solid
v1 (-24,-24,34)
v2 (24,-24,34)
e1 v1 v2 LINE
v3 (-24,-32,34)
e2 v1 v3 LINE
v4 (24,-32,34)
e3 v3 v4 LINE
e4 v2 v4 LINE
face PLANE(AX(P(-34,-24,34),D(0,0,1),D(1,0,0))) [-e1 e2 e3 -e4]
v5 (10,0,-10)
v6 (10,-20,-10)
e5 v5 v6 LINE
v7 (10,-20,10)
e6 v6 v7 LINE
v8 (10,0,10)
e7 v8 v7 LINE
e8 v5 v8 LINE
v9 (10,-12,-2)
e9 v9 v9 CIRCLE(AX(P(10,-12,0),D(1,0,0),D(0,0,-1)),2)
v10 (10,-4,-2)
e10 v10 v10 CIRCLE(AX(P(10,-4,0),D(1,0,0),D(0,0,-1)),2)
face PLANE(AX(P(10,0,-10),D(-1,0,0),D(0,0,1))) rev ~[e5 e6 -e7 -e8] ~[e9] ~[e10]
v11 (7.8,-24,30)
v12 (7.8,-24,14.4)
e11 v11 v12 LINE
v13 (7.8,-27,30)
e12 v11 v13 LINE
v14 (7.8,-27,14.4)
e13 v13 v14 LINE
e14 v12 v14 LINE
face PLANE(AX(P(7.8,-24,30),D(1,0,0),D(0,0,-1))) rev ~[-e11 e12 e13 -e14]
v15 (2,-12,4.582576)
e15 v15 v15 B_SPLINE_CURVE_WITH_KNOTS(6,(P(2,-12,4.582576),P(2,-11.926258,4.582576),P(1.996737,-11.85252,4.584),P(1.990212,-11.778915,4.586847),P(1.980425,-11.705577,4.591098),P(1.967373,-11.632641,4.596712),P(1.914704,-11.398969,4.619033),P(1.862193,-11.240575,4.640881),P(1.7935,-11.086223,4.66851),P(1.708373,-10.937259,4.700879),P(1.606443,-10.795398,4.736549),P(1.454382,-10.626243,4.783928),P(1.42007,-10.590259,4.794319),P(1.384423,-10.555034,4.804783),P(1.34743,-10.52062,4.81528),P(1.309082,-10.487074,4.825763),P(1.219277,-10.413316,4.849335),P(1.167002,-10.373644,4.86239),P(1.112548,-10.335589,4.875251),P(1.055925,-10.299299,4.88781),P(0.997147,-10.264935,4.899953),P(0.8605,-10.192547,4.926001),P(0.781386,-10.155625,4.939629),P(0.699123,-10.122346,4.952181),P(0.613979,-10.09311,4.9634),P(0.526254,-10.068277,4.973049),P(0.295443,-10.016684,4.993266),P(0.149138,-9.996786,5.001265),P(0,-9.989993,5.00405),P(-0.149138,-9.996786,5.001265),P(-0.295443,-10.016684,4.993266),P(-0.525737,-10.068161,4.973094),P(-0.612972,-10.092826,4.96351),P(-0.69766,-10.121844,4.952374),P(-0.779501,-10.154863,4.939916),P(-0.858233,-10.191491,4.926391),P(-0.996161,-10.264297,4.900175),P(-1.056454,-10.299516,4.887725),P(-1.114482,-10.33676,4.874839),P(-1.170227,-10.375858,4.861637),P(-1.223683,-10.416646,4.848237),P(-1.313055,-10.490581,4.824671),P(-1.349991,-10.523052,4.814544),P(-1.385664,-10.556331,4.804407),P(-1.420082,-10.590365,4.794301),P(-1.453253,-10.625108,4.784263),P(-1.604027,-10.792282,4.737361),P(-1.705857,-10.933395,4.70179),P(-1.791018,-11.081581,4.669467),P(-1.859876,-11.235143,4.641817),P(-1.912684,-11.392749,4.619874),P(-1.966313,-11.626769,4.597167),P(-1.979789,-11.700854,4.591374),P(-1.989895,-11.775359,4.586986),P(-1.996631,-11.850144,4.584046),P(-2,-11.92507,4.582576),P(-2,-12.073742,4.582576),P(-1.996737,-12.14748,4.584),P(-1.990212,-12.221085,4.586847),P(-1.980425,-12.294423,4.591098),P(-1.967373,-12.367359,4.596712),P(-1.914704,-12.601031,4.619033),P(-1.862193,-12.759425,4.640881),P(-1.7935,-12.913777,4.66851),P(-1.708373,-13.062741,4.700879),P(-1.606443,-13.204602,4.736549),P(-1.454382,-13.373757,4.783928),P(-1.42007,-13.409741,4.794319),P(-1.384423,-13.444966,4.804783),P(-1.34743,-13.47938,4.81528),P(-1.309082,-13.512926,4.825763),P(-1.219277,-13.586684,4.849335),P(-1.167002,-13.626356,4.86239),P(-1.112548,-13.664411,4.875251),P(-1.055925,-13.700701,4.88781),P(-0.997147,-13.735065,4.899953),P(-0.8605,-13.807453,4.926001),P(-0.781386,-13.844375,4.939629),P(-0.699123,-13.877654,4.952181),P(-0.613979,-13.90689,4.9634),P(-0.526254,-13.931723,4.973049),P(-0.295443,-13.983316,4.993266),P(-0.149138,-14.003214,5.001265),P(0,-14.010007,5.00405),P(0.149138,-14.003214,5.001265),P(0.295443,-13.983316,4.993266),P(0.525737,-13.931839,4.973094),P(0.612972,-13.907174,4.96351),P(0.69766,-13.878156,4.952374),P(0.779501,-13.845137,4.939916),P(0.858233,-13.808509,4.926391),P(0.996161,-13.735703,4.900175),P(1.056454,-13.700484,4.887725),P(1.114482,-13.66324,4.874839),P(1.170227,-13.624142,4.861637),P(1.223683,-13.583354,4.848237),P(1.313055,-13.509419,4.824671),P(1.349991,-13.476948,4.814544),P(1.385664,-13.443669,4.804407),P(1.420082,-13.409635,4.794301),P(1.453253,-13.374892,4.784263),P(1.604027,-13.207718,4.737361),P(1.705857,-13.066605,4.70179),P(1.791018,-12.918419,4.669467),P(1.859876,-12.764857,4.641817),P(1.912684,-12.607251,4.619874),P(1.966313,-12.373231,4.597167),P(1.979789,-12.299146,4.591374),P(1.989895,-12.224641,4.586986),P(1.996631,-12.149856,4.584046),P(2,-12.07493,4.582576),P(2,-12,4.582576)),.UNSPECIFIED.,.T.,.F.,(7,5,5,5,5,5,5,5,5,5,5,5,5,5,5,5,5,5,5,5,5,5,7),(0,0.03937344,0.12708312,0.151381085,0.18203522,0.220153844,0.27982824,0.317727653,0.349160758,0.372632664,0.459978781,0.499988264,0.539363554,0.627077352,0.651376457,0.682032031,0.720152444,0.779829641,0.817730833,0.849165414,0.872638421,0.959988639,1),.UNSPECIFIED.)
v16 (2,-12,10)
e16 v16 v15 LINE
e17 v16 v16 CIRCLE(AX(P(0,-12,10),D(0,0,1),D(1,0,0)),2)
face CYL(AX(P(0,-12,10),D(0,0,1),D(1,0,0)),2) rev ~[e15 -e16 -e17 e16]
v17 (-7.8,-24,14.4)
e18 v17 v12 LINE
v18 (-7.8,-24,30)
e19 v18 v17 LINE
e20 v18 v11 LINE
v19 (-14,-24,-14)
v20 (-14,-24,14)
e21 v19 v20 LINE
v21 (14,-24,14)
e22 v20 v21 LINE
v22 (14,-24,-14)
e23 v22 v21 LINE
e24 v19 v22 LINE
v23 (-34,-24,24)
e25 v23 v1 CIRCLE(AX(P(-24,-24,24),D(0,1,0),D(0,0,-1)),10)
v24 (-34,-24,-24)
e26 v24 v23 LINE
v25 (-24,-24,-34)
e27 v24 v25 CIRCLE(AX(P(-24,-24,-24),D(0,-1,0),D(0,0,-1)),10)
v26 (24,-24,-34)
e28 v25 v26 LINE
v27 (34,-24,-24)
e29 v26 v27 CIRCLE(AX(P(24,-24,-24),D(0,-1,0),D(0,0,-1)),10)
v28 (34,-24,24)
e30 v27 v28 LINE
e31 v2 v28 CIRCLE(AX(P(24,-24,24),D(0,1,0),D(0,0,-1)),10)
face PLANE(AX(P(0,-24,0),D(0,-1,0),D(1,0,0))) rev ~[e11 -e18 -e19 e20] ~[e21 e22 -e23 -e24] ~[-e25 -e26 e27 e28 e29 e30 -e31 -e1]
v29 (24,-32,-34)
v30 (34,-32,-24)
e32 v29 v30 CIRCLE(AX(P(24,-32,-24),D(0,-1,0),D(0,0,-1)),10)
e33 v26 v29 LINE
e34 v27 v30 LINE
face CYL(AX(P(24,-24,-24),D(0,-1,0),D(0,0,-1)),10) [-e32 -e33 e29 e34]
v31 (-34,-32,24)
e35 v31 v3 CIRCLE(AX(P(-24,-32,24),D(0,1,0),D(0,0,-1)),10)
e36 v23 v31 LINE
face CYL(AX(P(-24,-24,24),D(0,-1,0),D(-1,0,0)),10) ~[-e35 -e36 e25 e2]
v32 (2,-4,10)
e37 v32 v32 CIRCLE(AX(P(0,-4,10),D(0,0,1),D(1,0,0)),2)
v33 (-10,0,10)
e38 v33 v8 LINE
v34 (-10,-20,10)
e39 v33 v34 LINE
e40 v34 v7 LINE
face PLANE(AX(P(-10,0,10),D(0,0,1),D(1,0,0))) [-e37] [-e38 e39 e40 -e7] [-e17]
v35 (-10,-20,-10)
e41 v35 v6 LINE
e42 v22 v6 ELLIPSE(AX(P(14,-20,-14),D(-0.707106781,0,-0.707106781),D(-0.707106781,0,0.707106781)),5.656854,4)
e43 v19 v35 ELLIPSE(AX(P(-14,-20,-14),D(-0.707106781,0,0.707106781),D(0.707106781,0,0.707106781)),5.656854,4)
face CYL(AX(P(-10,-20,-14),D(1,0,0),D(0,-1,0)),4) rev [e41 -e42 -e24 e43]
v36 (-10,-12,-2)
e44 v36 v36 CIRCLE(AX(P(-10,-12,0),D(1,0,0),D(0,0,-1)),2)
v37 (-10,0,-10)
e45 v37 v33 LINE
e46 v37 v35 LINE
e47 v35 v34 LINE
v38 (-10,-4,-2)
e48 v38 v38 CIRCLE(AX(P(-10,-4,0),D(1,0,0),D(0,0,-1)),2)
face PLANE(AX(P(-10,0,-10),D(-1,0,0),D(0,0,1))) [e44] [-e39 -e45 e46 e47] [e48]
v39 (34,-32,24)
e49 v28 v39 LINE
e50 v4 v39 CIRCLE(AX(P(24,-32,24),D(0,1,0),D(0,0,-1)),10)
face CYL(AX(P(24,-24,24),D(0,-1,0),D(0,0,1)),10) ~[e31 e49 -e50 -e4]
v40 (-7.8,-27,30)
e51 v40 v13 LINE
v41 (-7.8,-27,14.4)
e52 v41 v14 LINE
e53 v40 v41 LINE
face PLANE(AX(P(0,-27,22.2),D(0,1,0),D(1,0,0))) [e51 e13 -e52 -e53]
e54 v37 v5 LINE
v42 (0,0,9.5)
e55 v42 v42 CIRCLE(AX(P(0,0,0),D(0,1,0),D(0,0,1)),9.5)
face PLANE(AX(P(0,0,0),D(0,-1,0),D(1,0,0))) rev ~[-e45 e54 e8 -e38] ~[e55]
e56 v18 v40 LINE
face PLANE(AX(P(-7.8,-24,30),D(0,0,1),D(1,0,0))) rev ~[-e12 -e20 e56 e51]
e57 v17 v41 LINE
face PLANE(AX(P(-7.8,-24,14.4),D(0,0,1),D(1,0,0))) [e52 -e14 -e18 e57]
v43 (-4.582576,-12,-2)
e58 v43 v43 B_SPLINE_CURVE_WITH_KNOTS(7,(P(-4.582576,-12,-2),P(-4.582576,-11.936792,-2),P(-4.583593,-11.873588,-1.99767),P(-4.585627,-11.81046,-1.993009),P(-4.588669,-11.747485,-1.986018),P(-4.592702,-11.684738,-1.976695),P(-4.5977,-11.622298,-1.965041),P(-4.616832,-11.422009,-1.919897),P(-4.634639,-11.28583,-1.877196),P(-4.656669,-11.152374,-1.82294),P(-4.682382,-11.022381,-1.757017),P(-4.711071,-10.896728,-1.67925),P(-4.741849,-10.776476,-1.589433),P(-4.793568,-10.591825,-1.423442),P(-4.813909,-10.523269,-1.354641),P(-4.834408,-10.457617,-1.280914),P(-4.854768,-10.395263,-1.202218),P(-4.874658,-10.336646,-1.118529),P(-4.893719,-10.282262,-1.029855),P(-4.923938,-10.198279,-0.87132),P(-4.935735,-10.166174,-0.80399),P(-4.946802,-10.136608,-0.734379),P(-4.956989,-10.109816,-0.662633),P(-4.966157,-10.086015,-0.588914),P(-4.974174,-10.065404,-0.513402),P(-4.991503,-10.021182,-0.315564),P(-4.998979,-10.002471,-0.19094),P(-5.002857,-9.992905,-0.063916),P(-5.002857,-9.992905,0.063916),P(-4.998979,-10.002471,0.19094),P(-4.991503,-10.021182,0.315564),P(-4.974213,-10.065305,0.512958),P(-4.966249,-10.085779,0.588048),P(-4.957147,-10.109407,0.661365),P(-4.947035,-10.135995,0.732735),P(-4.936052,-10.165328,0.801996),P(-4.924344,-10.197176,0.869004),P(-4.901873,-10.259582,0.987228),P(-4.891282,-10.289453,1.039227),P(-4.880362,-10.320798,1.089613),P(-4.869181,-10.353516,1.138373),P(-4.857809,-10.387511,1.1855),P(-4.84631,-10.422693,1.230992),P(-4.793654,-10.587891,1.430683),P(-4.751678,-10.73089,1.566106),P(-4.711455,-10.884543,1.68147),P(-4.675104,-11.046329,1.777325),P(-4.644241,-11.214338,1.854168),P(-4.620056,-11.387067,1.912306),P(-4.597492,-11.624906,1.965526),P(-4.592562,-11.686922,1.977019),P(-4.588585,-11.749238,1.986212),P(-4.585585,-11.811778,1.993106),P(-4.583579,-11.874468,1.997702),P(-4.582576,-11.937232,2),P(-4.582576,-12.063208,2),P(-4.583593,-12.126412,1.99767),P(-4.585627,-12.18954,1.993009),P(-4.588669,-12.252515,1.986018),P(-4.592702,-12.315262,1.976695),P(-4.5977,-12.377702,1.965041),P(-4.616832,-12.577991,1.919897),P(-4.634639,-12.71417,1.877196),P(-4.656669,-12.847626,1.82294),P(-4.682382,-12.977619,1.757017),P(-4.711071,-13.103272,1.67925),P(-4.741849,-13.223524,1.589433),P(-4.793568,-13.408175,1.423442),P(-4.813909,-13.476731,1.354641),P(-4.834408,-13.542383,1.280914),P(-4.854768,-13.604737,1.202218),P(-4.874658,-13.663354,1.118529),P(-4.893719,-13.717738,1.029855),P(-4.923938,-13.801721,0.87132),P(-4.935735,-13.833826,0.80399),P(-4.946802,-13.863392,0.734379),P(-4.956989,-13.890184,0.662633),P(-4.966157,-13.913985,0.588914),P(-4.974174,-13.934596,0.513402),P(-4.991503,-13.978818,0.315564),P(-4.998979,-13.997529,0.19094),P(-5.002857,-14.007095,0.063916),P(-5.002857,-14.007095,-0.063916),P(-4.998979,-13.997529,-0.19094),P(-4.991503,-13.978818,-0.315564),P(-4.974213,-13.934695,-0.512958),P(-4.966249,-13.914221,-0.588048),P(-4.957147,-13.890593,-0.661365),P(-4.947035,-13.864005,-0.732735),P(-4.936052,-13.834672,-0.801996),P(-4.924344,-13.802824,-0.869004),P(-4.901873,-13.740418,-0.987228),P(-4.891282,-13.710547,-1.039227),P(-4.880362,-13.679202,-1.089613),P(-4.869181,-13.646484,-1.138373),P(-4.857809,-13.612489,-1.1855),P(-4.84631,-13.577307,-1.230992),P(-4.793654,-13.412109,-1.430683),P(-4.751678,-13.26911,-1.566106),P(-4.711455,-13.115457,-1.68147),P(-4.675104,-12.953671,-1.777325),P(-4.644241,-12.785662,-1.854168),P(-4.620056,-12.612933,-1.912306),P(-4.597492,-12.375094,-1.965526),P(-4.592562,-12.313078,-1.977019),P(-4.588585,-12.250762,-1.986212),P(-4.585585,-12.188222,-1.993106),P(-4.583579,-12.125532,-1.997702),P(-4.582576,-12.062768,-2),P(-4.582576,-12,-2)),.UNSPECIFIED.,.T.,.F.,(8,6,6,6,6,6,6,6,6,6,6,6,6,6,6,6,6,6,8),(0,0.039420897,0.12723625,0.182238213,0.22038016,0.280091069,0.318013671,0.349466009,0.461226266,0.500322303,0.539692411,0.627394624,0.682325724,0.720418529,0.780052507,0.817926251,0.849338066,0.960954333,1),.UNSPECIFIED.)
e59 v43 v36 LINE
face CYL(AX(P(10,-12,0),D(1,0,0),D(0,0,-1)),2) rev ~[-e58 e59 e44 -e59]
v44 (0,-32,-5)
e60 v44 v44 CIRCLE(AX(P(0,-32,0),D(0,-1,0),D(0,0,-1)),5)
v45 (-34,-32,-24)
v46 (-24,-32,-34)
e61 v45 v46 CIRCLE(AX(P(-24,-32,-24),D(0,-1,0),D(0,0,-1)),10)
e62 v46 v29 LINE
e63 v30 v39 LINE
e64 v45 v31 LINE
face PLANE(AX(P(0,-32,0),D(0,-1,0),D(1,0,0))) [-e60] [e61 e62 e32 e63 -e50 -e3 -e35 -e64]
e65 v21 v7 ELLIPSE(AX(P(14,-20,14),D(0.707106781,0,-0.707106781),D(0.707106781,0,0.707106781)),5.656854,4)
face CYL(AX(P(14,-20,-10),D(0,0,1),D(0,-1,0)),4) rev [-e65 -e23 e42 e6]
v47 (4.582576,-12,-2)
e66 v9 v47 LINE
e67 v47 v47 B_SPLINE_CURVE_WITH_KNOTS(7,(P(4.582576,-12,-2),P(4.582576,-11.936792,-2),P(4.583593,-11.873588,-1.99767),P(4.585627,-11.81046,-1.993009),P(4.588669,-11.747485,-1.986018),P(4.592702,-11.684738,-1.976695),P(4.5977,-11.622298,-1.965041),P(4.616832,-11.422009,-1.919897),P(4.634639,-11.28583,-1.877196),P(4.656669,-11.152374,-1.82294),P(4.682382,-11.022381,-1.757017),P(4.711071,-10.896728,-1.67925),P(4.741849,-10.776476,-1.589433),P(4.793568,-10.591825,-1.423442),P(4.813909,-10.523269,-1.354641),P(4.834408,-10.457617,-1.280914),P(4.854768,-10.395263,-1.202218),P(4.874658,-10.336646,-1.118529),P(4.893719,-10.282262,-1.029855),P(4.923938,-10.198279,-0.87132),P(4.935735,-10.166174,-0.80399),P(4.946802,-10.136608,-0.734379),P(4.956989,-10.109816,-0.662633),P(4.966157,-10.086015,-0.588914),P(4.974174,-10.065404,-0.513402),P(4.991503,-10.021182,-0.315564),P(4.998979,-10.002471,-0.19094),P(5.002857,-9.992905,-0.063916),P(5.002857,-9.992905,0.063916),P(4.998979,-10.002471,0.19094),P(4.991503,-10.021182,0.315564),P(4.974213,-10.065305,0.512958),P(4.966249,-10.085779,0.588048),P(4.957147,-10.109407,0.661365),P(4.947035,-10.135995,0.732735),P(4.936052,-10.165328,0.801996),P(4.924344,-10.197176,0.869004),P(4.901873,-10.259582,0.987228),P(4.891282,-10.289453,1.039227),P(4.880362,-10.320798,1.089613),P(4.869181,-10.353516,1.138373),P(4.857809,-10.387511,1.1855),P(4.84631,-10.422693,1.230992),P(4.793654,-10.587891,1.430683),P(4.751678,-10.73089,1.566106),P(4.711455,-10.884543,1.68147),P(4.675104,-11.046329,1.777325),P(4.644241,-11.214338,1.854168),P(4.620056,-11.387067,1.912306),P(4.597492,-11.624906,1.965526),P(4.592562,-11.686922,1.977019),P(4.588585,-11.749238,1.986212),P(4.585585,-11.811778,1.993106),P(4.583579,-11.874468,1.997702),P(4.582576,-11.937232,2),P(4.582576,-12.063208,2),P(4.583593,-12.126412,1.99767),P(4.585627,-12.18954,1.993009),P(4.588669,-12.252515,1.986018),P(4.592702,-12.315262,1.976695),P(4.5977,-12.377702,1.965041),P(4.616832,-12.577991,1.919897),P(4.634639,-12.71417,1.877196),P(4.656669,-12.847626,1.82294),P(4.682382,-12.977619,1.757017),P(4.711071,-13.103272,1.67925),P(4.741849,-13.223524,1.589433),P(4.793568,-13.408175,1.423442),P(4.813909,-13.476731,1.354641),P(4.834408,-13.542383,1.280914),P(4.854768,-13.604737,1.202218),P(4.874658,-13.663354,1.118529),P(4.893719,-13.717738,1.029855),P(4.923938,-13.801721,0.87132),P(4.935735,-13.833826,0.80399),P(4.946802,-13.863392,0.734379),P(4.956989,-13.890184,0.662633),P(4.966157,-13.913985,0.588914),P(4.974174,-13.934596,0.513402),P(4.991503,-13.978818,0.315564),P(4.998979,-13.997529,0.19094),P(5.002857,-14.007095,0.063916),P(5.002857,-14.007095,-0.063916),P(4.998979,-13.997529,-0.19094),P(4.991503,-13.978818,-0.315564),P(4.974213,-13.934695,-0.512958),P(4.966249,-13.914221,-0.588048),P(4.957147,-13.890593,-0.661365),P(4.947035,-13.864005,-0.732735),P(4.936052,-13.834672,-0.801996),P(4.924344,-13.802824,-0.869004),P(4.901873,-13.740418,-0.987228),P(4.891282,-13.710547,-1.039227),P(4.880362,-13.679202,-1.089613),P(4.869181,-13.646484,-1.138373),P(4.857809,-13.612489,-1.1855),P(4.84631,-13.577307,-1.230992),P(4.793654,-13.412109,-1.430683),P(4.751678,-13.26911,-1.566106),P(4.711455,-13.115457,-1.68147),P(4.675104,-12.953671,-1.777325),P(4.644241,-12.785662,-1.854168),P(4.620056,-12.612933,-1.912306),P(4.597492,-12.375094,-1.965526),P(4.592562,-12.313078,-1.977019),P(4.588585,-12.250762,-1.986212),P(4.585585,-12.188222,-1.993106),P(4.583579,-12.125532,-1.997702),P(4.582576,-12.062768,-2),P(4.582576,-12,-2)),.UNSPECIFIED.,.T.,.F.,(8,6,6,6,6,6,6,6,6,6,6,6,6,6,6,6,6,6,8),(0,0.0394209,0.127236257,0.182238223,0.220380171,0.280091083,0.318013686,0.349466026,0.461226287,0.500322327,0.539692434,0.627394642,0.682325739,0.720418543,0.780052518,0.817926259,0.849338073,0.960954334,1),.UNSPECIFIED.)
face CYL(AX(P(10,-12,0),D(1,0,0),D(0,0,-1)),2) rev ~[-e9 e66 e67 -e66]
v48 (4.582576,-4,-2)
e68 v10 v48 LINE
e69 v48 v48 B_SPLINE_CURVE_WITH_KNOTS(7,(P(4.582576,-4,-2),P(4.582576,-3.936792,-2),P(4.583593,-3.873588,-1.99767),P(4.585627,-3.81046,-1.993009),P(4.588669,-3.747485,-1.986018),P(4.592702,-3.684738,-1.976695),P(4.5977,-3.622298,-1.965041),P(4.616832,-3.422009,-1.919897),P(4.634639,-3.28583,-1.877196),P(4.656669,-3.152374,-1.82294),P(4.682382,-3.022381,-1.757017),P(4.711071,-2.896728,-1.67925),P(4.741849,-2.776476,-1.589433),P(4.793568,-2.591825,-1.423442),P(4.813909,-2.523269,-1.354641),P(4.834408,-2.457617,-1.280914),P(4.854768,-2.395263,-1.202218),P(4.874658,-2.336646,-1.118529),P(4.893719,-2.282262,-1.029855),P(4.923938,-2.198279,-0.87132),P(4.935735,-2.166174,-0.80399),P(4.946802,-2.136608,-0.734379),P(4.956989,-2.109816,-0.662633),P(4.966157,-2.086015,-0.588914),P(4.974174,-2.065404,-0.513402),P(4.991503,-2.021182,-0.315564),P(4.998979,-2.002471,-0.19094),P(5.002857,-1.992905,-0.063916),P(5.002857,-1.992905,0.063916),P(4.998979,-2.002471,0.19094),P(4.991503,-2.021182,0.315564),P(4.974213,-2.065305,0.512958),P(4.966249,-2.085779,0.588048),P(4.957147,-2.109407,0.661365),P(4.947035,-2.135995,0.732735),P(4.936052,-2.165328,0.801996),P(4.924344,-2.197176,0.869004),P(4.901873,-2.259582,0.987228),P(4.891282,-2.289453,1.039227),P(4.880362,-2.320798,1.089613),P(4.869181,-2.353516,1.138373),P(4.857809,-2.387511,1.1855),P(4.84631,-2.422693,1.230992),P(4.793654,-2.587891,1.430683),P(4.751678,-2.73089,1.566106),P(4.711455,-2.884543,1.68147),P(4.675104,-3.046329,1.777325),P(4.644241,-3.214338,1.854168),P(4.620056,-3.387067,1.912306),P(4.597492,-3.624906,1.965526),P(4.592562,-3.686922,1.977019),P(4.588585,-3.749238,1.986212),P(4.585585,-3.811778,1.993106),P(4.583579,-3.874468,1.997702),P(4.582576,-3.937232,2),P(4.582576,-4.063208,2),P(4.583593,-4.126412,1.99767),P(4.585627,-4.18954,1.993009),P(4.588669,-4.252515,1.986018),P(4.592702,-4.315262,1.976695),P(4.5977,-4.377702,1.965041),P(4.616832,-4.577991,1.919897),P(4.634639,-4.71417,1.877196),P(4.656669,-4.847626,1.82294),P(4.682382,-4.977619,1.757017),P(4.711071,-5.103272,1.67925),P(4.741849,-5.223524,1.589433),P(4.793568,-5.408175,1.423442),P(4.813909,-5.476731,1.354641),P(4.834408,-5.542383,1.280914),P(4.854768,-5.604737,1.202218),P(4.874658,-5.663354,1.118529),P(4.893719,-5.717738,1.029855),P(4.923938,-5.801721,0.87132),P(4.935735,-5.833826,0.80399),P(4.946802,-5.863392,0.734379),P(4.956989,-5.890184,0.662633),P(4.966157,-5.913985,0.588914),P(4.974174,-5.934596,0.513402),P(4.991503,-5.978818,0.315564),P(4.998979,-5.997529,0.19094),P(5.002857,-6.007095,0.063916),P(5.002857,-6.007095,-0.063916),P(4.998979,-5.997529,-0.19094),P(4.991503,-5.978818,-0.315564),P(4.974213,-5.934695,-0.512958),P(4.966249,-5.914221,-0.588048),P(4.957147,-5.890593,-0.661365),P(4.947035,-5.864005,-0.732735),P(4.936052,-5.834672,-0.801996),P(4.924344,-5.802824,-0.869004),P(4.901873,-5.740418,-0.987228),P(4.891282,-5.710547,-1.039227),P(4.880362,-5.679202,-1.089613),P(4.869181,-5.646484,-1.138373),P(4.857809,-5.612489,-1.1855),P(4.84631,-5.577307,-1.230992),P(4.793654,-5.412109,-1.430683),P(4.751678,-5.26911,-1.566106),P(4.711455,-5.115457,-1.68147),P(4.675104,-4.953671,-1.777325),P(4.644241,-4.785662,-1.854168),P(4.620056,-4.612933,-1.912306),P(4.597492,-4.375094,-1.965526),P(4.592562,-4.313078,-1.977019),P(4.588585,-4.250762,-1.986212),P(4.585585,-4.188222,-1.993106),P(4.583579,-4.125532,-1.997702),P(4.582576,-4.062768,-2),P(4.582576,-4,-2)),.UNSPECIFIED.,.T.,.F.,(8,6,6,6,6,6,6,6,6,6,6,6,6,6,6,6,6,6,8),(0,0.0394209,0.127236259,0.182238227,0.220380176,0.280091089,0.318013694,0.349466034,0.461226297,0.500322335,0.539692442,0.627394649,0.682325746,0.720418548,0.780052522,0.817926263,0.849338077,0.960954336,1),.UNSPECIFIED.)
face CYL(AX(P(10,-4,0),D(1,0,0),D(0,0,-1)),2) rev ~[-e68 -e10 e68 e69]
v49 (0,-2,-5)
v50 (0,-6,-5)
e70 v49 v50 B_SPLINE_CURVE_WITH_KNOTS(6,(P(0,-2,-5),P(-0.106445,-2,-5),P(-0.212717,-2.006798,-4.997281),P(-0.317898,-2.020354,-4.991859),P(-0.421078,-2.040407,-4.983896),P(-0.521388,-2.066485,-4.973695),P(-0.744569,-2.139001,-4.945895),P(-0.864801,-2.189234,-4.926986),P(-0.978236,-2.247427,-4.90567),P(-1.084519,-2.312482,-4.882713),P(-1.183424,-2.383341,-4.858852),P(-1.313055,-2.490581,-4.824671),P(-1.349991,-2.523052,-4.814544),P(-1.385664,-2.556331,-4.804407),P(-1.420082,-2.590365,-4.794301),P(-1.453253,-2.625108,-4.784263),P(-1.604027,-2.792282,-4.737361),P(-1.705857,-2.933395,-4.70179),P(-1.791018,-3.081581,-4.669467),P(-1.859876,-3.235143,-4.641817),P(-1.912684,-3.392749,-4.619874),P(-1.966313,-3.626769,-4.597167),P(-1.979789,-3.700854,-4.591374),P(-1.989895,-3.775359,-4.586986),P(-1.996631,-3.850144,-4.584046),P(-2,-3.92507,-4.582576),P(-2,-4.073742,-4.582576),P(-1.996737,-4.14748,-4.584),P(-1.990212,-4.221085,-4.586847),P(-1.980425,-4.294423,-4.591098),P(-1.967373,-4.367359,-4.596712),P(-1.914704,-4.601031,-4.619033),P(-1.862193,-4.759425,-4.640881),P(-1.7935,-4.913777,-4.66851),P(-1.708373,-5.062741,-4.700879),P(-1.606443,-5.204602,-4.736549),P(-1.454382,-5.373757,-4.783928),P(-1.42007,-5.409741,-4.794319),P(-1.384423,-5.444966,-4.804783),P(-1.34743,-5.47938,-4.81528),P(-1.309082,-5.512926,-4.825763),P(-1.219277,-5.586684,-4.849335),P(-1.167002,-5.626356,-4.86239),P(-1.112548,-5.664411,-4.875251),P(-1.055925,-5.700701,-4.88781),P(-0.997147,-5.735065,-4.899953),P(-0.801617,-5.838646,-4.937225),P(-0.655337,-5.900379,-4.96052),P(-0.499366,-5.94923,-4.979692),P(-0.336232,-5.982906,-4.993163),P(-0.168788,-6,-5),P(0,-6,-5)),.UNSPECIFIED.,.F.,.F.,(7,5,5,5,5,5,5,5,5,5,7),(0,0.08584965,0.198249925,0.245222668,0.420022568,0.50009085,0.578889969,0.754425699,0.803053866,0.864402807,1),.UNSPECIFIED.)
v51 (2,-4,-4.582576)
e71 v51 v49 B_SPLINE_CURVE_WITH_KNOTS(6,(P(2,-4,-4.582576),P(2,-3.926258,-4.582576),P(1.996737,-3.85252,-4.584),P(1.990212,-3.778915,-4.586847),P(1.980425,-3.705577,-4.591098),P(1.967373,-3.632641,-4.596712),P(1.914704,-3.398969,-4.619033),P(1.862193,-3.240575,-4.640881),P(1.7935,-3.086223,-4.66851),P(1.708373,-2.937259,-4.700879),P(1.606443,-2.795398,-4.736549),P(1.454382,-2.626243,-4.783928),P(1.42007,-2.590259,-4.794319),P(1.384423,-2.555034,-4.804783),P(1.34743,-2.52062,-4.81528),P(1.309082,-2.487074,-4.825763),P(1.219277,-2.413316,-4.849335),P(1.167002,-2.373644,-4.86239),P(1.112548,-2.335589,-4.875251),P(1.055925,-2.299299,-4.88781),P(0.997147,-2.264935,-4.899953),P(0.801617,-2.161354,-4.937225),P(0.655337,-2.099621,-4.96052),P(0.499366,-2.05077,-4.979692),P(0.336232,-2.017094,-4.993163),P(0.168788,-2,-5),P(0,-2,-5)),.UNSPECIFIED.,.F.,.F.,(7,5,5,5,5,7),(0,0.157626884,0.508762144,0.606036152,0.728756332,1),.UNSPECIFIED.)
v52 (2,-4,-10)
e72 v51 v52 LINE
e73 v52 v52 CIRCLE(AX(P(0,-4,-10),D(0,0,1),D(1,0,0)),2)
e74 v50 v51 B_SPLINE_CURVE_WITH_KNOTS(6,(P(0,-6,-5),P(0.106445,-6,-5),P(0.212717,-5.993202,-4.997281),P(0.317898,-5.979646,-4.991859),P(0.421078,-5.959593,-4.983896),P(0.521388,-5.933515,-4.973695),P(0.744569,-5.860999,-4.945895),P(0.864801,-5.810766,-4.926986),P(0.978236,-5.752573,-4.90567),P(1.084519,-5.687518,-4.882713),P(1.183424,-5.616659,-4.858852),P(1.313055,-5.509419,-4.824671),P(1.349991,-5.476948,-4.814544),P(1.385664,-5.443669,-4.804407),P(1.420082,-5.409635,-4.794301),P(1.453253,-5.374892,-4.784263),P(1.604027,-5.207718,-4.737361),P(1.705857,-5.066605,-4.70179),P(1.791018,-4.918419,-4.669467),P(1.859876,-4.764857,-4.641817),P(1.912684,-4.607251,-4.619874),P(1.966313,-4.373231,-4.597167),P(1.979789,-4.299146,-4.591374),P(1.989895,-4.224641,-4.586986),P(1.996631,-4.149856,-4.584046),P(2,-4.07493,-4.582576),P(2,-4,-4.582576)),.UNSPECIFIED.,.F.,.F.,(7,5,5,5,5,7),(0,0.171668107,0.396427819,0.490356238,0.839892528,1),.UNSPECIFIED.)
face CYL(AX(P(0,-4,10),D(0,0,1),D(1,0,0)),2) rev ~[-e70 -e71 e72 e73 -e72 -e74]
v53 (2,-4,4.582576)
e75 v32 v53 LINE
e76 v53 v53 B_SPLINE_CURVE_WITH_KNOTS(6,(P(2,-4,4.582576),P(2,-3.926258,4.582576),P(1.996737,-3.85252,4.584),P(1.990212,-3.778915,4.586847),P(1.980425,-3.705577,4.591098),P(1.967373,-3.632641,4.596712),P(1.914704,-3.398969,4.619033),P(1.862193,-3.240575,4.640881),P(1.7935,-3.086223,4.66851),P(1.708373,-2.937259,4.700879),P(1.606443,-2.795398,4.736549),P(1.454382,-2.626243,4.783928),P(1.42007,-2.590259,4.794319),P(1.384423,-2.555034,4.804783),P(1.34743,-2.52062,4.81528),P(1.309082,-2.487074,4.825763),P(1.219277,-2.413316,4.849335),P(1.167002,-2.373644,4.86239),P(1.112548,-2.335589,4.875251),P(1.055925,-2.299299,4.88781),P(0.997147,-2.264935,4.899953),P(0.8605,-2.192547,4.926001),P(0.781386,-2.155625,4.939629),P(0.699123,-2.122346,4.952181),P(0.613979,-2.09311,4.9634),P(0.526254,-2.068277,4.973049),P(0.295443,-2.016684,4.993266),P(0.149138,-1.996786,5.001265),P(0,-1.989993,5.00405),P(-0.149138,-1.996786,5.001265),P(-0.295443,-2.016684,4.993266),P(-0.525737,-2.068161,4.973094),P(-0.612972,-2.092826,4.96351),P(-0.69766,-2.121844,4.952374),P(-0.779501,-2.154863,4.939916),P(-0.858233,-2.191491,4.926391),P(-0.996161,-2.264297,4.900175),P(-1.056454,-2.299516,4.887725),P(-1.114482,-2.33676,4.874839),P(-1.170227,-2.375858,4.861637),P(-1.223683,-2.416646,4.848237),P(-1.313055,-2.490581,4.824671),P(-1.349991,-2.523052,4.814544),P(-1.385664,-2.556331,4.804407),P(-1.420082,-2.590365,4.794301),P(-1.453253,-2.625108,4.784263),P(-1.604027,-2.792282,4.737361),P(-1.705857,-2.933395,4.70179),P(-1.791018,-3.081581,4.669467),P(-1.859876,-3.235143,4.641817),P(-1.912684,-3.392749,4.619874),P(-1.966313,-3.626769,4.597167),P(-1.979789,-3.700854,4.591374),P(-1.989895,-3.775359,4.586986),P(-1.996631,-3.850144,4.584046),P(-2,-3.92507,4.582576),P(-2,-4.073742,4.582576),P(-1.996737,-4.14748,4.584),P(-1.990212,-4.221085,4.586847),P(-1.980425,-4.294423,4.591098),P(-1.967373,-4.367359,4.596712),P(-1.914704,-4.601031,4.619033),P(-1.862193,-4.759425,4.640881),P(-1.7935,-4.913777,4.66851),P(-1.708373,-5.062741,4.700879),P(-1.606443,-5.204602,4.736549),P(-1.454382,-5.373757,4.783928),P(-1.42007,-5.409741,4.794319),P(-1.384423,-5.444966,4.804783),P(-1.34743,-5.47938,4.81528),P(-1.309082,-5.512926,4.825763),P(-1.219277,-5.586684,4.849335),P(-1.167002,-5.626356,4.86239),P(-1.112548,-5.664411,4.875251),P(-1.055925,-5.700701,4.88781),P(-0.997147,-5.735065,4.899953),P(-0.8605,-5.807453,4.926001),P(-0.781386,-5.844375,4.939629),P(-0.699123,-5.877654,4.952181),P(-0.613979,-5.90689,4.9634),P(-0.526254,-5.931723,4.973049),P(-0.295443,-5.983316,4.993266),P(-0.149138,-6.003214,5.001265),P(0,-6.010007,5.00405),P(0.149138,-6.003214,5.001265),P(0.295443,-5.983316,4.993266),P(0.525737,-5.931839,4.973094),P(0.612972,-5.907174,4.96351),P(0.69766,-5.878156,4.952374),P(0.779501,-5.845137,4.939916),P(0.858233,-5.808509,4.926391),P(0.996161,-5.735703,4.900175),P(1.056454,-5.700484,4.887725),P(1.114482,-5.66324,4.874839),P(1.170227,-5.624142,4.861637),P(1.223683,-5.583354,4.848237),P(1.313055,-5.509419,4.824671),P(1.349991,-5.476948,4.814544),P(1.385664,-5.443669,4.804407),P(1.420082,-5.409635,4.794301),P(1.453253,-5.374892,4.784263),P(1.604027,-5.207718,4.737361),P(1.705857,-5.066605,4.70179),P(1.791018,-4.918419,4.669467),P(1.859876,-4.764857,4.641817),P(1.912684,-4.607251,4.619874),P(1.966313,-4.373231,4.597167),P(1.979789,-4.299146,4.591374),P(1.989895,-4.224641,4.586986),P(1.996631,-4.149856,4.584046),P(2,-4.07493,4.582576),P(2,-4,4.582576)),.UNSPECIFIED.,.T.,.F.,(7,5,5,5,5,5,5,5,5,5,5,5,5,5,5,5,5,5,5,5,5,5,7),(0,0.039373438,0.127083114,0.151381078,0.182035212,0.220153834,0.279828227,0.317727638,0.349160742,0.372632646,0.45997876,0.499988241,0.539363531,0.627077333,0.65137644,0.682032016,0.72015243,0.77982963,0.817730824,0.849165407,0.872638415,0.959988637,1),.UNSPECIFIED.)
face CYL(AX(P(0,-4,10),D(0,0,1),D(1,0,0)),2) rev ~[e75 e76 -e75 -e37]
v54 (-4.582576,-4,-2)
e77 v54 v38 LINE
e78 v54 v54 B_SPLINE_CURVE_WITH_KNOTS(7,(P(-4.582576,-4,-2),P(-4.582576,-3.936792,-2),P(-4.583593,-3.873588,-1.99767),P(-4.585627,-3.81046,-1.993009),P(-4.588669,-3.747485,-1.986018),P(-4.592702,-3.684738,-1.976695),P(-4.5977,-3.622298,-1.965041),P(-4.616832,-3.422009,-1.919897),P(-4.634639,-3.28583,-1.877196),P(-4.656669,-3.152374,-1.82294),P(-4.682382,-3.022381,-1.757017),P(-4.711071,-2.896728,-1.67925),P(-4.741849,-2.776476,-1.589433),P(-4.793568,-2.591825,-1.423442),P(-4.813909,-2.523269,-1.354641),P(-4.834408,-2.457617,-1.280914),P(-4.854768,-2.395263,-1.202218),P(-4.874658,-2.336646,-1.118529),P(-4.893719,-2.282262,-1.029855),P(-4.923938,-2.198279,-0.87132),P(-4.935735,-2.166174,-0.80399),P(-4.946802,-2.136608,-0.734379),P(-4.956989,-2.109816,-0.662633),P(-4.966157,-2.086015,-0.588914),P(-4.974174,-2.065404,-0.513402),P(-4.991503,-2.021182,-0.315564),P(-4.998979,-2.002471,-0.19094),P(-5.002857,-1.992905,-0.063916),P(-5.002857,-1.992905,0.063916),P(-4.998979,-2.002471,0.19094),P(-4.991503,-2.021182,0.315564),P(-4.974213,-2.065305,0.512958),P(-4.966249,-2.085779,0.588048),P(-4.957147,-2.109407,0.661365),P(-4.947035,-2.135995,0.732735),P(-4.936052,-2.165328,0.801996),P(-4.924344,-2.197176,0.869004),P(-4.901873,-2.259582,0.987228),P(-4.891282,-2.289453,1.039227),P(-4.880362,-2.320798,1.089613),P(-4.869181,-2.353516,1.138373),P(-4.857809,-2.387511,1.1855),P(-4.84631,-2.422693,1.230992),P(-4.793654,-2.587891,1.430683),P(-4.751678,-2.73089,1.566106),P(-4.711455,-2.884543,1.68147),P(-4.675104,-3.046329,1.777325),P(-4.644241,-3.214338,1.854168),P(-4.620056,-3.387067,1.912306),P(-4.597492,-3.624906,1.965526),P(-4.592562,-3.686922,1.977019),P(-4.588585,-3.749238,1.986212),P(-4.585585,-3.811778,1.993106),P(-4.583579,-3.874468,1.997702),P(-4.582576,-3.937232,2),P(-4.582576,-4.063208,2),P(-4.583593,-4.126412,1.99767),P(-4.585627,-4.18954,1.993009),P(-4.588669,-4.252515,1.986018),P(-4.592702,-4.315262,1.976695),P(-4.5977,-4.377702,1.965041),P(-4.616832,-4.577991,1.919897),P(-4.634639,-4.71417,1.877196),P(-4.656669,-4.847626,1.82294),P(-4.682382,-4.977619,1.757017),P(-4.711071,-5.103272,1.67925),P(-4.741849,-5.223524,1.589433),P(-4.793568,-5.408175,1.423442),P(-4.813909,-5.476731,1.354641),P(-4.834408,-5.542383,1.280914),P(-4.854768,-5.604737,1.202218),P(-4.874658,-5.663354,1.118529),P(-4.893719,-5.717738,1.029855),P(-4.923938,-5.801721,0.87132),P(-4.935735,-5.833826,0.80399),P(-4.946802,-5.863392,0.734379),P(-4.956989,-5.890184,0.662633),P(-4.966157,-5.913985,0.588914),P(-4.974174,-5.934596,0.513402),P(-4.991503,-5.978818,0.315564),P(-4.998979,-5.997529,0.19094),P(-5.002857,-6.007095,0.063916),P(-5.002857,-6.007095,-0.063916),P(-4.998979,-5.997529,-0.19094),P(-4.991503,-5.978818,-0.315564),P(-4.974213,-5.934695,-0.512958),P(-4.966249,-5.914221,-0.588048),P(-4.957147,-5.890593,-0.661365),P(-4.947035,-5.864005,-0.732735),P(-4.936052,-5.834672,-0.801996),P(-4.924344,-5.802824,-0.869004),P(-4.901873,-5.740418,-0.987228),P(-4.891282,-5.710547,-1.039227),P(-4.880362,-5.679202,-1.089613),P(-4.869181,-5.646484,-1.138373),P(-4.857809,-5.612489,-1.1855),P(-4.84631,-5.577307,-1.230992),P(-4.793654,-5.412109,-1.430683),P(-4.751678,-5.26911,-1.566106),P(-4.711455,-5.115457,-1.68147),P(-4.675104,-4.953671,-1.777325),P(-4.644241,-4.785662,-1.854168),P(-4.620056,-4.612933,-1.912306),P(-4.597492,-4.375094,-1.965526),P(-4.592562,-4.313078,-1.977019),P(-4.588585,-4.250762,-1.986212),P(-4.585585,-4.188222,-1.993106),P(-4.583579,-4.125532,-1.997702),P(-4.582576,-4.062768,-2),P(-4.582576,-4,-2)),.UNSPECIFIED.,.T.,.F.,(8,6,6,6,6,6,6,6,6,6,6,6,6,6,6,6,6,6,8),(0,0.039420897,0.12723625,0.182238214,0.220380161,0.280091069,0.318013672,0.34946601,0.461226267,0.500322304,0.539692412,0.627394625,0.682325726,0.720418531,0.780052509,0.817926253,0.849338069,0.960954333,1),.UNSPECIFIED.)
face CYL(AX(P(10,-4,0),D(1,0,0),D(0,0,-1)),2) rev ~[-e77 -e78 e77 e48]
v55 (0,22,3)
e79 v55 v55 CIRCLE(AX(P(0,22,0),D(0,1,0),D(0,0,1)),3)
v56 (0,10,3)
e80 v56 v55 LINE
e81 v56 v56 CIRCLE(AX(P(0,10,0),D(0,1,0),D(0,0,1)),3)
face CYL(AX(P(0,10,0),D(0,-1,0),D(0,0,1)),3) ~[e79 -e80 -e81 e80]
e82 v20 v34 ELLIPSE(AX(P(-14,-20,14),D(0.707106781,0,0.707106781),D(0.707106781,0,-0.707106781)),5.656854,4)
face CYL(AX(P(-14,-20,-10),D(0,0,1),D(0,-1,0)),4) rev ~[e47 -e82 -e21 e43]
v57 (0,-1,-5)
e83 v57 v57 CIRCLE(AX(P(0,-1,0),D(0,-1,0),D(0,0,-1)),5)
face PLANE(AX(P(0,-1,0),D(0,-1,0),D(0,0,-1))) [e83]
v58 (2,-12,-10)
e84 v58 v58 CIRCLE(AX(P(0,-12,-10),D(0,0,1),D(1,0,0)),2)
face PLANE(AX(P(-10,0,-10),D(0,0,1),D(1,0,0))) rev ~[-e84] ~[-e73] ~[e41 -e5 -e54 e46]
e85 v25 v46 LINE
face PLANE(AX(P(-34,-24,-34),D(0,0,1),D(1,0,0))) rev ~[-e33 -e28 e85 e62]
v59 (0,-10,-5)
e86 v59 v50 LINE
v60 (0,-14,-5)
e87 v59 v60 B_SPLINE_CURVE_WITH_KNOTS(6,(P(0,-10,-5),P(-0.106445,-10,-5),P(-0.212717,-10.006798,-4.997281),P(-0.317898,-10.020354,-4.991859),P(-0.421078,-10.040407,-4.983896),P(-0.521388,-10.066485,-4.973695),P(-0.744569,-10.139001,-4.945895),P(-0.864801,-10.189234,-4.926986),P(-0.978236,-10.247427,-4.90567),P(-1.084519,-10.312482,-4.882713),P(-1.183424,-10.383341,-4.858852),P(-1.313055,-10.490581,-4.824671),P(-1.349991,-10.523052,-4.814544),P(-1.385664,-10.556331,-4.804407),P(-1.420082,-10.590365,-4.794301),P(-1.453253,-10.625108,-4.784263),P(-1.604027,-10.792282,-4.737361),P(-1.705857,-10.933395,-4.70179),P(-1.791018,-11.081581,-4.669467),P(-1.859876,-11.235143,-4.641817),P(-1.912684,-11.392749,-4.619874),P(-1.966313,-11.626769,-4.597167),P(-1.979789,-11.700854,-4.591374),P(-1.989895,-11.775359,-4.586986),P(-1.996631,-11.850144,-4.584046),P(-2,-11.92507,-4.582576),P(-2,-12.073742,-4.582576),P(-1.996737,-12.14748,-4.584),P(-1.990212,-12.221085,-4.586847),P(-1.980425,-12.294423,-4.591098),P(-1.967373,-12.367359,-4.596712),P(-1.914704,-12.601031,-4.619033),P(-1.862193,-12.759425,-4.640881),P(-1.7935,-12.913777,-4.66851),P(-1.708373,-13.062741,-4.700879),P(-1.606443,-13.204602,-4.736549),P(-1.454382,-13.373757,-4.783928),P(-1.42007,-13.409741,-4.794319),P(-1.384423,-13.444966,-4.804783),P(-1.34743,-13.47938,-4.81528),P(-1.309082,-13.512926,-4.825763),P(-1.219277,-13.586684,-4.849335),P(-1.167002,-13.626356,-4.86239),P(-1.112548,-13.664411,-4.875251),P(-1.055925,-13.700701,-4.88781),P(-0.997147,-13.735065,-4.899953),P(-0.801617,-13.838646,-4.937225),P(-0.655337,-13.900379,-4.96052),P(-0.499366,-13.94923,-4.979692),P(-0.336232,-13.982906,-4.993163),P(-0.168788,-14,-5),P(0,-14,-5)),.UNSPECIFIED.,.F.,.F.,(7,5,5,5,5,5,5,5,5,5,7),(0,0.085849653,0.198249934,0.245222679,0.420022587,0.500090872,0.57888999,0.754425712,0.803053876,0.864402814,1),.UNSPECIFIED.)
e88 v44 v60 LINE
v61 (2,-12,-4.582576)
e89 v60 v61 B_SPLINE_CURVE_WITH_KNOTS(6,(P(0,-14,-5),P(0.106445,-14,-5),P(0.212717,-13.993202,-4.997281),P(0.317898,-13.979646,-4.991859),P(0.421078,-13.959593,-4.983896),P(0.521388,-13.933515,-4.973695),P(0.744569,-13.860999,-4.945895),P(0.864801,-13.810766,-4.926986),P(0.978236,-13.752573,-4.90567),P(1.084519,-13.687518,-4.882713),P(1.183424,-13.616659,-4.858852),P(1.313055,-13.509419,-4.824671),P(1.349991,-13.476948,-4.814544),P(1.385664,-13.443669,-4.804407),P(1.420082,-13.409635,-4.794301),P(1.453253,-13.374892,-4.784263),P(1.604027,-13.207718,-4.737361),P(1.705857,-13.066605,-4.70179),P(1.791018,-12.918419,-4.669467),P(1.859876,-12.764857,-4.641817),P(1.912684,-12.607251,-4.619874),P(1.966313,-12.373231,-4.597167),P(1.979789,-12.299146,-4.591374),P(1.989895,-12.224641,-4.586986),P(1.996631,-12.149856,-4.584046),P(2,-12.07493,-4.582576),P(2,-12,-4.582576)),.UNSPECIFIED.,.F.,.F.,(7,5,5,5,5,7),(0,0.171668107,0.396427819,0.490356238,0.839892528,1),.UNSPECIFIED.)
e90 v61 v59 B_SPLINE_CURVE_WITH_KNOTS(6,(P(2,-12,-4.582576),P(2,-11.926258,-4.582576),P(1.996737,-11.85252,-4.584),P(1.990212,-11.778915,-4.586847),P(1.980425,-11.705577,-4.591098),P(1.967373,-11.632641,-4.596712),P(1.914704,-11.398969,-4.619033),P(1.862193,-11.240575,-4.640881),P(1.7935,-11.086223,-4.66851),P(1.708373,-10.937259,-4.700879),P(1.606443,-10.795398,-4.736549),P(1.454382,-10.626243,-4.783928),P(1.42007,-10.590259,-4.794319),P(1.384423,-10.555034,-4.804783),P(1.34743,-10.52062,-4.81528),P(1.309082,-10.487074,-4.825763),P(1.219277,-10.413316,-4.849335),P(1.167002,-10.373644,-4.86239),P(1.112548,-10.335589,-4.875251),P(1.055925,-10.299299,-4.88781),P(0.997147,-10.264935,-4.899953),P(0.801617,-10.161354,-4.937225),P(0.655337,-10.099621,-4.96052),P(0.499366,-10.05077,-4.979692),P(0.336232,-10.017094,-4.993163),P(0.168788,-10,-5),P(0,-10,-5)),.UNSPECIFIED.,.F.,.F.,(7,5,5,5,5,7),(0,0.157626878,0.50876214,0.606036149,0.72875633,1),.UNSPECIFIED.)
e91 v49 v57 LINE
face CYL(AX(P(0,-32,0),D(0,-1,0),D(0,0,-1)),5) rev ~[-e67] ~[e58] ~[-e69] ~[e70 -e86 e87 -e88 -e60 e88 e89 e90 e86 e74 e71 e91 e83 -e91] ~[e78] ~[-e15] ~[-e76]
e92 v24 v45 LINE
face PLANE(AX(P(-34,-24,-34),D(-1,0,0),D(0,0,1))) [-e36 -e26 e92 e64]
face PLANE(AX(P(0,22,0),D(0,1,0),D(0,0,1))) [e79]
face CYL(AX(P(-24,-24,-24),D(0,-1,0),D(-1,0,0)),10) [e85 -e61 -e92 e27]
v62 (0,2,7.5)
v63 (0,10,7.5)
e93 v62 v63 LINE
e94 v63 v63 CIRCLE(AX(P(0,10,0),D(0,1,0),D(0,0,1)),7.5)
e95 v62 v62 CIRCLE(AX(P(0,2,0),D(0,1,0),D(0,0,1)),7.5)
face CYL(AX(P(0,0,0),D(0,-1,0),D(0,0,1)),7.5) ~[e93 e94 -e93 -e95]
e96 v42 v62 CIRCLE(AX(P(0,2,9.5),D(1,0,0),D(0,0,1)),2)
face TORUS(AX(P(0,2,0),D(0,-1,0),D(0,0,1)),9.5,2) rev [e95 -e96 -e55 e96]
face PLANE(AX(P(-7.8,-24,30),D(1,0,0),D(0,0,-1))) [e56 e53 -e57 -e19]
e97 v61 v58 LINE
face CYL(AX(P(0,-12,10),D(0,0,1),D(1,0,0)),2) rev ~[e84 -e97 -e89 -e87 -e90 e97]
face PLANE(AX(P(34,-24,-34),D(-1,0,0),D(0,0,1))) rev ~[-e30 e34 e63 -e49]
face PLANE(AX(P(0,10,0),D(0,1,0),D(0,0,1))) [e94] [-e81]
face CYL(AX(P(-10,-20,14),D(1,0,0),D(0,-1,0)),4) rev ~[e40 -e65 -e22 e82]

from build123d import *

# Parameters (mm, degrees)
SKETCH_1_R               = 7.5
EXTRUDE_1_DEPTH          = 10
SKETCH_2_W               = 20
SKETCH_2_H               = 20
EXTRUDE_2_DEPTH          = 24
SKETCH_3_W               = 68
SKETCH_3_H               = 68
EXTRUDE_3_DEPTH          = 8
FILLET_1_R               = 10
SKETCH_4_R               = 2
CUT_EXTRUDE_1_DEPTH      = 23
PATTERN_CIRCULAR_1_COUNT = 2
PATTERN_CIRCULAR_1_ANGLE = 90
SKETCH_5_R               = 5
CUT_EXTRUDE_2_DEPTH      = 31
FILLET_3_R               = 4
SKETCH_6_W               = 15.6
SKETCH_6_H               = 15.6
CUT_EXTRUDE_3_DEPTH      = 3
SKETCH_7_R               = 3
EXTRUDE_4_DEPTH          = 12
FILLET_4_R               = 2


with BuildPart() as part:
    # 草图1 → 凸台-拉伸1 (new body)
    with BuildSketch(Plane(origin=(0, 0, 0), x_dir=(1, 0, 0), z_dir=(0, 1, 0))):
        with Locations(Location((0, 0, 0), (0, 0, 270))):
            Circle(SKETCH_1_R)
    extrude(amount=EXTRUDE_1_DEPTH)

    # 草图2 → 凸台-拉伸2 (add)
    with BuildSketch(Plane.XZ):
        Rectangle(SKETCH_2_W, SKETCH_2_H)
    extrude(amount=EXTRUDE_2_DEPTH)

    # 草图3 → 凸台-拉伸3 (add)
    with BuildSketch(Plane.XZ.offset(24)):
        Rectangle(SKETCH_3_W, SKETCH_3_H)
    extrude(amount=EXTRUDE_3_DEPTH)

    # 圆角1
    fillet_1_edges = [part.edges().sort_by_distance(p)[0] for p in [
        (34, -28, -34),
        (34, -28, 34),
        (-34, -28, 34),
        (-34, -28, -34),
    ]]
    fillet(fillet_1_edges, radius=FILLET_1_R)

    # 草图4 → 切除-拉伸1 (cut)
    with BuildSketch(Plane(origin=(10, 0, 0), x_dir=(0, 0, -1), z_dir=(1, 0, 0))):
        with Locations((0, -4)):
            Circle(SKETCH_4_R)
        with Locations((0, -12)):
            Circle(SKETCH_4_R)
    cut_extrude_1 = extrude(amount=-CUT_EXTRUDE_1_DEPTH, mode=Mode.SUBTRACT)

    # 阵列(圆周)1: 切除-拉伸1 ×2 about axis
    pattern_circular_1_axis = Axis((0, 10, 0), (0, -1, 0))
    for i in range(1, PATTERN_CIRCULAR_1_COUNT):
        add(cut_extrude_1.rotate(pattern_circular_1_axis, i * PATTERN_CIRCULAR_1_ANGLE / (PATTERN_CIRCULAR_1_COUNT - 1)), mode=Mode.SUBTRACT)

    # 草图5 → 切除-拉伸2 (cut)
    with BuildSketch(Plane.XZ.offset(32)):
        with Locations(Location((0, 0, 0), (0, 0, 270))):
            Circle(SKETCH_5_R)
    extrude(amount=-CUT_EXTRUDE_2_DEPTH, mode=Mode.SUBTRACT)

    # 圆角3
    fillet_3_edges = [part.edges().sort_by_distance(p)[0] for p in [
        (10, -24, 0),
        (0, -24, 10),
        (-10, -24, 0),
        (0, -24, -10),
    ]]
    fillet(fillet_3_edges, radius=FILLET_3_R)

    # 草图6 → 切除-拉伸3 (cut)
    with BuildSketch(Plane(origin=(0, -24, 0), x_dir=(1, 0, 0), z_dir=(0, 1, 0))):
        with Locations((0, -22.2)):
            Rectangle(SKETCH_6_W, SKETCH_6_H)
    extrude(amount=-CUT_EXTRUDE_3_DEPTH, mode=Mode.SUBTRACT)

    # 草图7 → 凸台-拉伸4 (add)
    with BuildSketch(Plane(origin=(0, 10, 0), x_dir=(1, 0, 0), z_dir=(0, 1, 0))):
        with Locations(Location((0, 0, 0), (0, 0, 270))):
            Circle(SKETCH_7_R)
    extrude(amount=EXTRUDE_4_DEPTH)

    # 圆角4
    fillet_4_edges = [part.edges().sort_by_distance(p)[0] for p in [
        (0, 0, -7.5),
    ]]
    fillet(fillet_4_edges, radius=FILLET_4_R)


solid = part.part
